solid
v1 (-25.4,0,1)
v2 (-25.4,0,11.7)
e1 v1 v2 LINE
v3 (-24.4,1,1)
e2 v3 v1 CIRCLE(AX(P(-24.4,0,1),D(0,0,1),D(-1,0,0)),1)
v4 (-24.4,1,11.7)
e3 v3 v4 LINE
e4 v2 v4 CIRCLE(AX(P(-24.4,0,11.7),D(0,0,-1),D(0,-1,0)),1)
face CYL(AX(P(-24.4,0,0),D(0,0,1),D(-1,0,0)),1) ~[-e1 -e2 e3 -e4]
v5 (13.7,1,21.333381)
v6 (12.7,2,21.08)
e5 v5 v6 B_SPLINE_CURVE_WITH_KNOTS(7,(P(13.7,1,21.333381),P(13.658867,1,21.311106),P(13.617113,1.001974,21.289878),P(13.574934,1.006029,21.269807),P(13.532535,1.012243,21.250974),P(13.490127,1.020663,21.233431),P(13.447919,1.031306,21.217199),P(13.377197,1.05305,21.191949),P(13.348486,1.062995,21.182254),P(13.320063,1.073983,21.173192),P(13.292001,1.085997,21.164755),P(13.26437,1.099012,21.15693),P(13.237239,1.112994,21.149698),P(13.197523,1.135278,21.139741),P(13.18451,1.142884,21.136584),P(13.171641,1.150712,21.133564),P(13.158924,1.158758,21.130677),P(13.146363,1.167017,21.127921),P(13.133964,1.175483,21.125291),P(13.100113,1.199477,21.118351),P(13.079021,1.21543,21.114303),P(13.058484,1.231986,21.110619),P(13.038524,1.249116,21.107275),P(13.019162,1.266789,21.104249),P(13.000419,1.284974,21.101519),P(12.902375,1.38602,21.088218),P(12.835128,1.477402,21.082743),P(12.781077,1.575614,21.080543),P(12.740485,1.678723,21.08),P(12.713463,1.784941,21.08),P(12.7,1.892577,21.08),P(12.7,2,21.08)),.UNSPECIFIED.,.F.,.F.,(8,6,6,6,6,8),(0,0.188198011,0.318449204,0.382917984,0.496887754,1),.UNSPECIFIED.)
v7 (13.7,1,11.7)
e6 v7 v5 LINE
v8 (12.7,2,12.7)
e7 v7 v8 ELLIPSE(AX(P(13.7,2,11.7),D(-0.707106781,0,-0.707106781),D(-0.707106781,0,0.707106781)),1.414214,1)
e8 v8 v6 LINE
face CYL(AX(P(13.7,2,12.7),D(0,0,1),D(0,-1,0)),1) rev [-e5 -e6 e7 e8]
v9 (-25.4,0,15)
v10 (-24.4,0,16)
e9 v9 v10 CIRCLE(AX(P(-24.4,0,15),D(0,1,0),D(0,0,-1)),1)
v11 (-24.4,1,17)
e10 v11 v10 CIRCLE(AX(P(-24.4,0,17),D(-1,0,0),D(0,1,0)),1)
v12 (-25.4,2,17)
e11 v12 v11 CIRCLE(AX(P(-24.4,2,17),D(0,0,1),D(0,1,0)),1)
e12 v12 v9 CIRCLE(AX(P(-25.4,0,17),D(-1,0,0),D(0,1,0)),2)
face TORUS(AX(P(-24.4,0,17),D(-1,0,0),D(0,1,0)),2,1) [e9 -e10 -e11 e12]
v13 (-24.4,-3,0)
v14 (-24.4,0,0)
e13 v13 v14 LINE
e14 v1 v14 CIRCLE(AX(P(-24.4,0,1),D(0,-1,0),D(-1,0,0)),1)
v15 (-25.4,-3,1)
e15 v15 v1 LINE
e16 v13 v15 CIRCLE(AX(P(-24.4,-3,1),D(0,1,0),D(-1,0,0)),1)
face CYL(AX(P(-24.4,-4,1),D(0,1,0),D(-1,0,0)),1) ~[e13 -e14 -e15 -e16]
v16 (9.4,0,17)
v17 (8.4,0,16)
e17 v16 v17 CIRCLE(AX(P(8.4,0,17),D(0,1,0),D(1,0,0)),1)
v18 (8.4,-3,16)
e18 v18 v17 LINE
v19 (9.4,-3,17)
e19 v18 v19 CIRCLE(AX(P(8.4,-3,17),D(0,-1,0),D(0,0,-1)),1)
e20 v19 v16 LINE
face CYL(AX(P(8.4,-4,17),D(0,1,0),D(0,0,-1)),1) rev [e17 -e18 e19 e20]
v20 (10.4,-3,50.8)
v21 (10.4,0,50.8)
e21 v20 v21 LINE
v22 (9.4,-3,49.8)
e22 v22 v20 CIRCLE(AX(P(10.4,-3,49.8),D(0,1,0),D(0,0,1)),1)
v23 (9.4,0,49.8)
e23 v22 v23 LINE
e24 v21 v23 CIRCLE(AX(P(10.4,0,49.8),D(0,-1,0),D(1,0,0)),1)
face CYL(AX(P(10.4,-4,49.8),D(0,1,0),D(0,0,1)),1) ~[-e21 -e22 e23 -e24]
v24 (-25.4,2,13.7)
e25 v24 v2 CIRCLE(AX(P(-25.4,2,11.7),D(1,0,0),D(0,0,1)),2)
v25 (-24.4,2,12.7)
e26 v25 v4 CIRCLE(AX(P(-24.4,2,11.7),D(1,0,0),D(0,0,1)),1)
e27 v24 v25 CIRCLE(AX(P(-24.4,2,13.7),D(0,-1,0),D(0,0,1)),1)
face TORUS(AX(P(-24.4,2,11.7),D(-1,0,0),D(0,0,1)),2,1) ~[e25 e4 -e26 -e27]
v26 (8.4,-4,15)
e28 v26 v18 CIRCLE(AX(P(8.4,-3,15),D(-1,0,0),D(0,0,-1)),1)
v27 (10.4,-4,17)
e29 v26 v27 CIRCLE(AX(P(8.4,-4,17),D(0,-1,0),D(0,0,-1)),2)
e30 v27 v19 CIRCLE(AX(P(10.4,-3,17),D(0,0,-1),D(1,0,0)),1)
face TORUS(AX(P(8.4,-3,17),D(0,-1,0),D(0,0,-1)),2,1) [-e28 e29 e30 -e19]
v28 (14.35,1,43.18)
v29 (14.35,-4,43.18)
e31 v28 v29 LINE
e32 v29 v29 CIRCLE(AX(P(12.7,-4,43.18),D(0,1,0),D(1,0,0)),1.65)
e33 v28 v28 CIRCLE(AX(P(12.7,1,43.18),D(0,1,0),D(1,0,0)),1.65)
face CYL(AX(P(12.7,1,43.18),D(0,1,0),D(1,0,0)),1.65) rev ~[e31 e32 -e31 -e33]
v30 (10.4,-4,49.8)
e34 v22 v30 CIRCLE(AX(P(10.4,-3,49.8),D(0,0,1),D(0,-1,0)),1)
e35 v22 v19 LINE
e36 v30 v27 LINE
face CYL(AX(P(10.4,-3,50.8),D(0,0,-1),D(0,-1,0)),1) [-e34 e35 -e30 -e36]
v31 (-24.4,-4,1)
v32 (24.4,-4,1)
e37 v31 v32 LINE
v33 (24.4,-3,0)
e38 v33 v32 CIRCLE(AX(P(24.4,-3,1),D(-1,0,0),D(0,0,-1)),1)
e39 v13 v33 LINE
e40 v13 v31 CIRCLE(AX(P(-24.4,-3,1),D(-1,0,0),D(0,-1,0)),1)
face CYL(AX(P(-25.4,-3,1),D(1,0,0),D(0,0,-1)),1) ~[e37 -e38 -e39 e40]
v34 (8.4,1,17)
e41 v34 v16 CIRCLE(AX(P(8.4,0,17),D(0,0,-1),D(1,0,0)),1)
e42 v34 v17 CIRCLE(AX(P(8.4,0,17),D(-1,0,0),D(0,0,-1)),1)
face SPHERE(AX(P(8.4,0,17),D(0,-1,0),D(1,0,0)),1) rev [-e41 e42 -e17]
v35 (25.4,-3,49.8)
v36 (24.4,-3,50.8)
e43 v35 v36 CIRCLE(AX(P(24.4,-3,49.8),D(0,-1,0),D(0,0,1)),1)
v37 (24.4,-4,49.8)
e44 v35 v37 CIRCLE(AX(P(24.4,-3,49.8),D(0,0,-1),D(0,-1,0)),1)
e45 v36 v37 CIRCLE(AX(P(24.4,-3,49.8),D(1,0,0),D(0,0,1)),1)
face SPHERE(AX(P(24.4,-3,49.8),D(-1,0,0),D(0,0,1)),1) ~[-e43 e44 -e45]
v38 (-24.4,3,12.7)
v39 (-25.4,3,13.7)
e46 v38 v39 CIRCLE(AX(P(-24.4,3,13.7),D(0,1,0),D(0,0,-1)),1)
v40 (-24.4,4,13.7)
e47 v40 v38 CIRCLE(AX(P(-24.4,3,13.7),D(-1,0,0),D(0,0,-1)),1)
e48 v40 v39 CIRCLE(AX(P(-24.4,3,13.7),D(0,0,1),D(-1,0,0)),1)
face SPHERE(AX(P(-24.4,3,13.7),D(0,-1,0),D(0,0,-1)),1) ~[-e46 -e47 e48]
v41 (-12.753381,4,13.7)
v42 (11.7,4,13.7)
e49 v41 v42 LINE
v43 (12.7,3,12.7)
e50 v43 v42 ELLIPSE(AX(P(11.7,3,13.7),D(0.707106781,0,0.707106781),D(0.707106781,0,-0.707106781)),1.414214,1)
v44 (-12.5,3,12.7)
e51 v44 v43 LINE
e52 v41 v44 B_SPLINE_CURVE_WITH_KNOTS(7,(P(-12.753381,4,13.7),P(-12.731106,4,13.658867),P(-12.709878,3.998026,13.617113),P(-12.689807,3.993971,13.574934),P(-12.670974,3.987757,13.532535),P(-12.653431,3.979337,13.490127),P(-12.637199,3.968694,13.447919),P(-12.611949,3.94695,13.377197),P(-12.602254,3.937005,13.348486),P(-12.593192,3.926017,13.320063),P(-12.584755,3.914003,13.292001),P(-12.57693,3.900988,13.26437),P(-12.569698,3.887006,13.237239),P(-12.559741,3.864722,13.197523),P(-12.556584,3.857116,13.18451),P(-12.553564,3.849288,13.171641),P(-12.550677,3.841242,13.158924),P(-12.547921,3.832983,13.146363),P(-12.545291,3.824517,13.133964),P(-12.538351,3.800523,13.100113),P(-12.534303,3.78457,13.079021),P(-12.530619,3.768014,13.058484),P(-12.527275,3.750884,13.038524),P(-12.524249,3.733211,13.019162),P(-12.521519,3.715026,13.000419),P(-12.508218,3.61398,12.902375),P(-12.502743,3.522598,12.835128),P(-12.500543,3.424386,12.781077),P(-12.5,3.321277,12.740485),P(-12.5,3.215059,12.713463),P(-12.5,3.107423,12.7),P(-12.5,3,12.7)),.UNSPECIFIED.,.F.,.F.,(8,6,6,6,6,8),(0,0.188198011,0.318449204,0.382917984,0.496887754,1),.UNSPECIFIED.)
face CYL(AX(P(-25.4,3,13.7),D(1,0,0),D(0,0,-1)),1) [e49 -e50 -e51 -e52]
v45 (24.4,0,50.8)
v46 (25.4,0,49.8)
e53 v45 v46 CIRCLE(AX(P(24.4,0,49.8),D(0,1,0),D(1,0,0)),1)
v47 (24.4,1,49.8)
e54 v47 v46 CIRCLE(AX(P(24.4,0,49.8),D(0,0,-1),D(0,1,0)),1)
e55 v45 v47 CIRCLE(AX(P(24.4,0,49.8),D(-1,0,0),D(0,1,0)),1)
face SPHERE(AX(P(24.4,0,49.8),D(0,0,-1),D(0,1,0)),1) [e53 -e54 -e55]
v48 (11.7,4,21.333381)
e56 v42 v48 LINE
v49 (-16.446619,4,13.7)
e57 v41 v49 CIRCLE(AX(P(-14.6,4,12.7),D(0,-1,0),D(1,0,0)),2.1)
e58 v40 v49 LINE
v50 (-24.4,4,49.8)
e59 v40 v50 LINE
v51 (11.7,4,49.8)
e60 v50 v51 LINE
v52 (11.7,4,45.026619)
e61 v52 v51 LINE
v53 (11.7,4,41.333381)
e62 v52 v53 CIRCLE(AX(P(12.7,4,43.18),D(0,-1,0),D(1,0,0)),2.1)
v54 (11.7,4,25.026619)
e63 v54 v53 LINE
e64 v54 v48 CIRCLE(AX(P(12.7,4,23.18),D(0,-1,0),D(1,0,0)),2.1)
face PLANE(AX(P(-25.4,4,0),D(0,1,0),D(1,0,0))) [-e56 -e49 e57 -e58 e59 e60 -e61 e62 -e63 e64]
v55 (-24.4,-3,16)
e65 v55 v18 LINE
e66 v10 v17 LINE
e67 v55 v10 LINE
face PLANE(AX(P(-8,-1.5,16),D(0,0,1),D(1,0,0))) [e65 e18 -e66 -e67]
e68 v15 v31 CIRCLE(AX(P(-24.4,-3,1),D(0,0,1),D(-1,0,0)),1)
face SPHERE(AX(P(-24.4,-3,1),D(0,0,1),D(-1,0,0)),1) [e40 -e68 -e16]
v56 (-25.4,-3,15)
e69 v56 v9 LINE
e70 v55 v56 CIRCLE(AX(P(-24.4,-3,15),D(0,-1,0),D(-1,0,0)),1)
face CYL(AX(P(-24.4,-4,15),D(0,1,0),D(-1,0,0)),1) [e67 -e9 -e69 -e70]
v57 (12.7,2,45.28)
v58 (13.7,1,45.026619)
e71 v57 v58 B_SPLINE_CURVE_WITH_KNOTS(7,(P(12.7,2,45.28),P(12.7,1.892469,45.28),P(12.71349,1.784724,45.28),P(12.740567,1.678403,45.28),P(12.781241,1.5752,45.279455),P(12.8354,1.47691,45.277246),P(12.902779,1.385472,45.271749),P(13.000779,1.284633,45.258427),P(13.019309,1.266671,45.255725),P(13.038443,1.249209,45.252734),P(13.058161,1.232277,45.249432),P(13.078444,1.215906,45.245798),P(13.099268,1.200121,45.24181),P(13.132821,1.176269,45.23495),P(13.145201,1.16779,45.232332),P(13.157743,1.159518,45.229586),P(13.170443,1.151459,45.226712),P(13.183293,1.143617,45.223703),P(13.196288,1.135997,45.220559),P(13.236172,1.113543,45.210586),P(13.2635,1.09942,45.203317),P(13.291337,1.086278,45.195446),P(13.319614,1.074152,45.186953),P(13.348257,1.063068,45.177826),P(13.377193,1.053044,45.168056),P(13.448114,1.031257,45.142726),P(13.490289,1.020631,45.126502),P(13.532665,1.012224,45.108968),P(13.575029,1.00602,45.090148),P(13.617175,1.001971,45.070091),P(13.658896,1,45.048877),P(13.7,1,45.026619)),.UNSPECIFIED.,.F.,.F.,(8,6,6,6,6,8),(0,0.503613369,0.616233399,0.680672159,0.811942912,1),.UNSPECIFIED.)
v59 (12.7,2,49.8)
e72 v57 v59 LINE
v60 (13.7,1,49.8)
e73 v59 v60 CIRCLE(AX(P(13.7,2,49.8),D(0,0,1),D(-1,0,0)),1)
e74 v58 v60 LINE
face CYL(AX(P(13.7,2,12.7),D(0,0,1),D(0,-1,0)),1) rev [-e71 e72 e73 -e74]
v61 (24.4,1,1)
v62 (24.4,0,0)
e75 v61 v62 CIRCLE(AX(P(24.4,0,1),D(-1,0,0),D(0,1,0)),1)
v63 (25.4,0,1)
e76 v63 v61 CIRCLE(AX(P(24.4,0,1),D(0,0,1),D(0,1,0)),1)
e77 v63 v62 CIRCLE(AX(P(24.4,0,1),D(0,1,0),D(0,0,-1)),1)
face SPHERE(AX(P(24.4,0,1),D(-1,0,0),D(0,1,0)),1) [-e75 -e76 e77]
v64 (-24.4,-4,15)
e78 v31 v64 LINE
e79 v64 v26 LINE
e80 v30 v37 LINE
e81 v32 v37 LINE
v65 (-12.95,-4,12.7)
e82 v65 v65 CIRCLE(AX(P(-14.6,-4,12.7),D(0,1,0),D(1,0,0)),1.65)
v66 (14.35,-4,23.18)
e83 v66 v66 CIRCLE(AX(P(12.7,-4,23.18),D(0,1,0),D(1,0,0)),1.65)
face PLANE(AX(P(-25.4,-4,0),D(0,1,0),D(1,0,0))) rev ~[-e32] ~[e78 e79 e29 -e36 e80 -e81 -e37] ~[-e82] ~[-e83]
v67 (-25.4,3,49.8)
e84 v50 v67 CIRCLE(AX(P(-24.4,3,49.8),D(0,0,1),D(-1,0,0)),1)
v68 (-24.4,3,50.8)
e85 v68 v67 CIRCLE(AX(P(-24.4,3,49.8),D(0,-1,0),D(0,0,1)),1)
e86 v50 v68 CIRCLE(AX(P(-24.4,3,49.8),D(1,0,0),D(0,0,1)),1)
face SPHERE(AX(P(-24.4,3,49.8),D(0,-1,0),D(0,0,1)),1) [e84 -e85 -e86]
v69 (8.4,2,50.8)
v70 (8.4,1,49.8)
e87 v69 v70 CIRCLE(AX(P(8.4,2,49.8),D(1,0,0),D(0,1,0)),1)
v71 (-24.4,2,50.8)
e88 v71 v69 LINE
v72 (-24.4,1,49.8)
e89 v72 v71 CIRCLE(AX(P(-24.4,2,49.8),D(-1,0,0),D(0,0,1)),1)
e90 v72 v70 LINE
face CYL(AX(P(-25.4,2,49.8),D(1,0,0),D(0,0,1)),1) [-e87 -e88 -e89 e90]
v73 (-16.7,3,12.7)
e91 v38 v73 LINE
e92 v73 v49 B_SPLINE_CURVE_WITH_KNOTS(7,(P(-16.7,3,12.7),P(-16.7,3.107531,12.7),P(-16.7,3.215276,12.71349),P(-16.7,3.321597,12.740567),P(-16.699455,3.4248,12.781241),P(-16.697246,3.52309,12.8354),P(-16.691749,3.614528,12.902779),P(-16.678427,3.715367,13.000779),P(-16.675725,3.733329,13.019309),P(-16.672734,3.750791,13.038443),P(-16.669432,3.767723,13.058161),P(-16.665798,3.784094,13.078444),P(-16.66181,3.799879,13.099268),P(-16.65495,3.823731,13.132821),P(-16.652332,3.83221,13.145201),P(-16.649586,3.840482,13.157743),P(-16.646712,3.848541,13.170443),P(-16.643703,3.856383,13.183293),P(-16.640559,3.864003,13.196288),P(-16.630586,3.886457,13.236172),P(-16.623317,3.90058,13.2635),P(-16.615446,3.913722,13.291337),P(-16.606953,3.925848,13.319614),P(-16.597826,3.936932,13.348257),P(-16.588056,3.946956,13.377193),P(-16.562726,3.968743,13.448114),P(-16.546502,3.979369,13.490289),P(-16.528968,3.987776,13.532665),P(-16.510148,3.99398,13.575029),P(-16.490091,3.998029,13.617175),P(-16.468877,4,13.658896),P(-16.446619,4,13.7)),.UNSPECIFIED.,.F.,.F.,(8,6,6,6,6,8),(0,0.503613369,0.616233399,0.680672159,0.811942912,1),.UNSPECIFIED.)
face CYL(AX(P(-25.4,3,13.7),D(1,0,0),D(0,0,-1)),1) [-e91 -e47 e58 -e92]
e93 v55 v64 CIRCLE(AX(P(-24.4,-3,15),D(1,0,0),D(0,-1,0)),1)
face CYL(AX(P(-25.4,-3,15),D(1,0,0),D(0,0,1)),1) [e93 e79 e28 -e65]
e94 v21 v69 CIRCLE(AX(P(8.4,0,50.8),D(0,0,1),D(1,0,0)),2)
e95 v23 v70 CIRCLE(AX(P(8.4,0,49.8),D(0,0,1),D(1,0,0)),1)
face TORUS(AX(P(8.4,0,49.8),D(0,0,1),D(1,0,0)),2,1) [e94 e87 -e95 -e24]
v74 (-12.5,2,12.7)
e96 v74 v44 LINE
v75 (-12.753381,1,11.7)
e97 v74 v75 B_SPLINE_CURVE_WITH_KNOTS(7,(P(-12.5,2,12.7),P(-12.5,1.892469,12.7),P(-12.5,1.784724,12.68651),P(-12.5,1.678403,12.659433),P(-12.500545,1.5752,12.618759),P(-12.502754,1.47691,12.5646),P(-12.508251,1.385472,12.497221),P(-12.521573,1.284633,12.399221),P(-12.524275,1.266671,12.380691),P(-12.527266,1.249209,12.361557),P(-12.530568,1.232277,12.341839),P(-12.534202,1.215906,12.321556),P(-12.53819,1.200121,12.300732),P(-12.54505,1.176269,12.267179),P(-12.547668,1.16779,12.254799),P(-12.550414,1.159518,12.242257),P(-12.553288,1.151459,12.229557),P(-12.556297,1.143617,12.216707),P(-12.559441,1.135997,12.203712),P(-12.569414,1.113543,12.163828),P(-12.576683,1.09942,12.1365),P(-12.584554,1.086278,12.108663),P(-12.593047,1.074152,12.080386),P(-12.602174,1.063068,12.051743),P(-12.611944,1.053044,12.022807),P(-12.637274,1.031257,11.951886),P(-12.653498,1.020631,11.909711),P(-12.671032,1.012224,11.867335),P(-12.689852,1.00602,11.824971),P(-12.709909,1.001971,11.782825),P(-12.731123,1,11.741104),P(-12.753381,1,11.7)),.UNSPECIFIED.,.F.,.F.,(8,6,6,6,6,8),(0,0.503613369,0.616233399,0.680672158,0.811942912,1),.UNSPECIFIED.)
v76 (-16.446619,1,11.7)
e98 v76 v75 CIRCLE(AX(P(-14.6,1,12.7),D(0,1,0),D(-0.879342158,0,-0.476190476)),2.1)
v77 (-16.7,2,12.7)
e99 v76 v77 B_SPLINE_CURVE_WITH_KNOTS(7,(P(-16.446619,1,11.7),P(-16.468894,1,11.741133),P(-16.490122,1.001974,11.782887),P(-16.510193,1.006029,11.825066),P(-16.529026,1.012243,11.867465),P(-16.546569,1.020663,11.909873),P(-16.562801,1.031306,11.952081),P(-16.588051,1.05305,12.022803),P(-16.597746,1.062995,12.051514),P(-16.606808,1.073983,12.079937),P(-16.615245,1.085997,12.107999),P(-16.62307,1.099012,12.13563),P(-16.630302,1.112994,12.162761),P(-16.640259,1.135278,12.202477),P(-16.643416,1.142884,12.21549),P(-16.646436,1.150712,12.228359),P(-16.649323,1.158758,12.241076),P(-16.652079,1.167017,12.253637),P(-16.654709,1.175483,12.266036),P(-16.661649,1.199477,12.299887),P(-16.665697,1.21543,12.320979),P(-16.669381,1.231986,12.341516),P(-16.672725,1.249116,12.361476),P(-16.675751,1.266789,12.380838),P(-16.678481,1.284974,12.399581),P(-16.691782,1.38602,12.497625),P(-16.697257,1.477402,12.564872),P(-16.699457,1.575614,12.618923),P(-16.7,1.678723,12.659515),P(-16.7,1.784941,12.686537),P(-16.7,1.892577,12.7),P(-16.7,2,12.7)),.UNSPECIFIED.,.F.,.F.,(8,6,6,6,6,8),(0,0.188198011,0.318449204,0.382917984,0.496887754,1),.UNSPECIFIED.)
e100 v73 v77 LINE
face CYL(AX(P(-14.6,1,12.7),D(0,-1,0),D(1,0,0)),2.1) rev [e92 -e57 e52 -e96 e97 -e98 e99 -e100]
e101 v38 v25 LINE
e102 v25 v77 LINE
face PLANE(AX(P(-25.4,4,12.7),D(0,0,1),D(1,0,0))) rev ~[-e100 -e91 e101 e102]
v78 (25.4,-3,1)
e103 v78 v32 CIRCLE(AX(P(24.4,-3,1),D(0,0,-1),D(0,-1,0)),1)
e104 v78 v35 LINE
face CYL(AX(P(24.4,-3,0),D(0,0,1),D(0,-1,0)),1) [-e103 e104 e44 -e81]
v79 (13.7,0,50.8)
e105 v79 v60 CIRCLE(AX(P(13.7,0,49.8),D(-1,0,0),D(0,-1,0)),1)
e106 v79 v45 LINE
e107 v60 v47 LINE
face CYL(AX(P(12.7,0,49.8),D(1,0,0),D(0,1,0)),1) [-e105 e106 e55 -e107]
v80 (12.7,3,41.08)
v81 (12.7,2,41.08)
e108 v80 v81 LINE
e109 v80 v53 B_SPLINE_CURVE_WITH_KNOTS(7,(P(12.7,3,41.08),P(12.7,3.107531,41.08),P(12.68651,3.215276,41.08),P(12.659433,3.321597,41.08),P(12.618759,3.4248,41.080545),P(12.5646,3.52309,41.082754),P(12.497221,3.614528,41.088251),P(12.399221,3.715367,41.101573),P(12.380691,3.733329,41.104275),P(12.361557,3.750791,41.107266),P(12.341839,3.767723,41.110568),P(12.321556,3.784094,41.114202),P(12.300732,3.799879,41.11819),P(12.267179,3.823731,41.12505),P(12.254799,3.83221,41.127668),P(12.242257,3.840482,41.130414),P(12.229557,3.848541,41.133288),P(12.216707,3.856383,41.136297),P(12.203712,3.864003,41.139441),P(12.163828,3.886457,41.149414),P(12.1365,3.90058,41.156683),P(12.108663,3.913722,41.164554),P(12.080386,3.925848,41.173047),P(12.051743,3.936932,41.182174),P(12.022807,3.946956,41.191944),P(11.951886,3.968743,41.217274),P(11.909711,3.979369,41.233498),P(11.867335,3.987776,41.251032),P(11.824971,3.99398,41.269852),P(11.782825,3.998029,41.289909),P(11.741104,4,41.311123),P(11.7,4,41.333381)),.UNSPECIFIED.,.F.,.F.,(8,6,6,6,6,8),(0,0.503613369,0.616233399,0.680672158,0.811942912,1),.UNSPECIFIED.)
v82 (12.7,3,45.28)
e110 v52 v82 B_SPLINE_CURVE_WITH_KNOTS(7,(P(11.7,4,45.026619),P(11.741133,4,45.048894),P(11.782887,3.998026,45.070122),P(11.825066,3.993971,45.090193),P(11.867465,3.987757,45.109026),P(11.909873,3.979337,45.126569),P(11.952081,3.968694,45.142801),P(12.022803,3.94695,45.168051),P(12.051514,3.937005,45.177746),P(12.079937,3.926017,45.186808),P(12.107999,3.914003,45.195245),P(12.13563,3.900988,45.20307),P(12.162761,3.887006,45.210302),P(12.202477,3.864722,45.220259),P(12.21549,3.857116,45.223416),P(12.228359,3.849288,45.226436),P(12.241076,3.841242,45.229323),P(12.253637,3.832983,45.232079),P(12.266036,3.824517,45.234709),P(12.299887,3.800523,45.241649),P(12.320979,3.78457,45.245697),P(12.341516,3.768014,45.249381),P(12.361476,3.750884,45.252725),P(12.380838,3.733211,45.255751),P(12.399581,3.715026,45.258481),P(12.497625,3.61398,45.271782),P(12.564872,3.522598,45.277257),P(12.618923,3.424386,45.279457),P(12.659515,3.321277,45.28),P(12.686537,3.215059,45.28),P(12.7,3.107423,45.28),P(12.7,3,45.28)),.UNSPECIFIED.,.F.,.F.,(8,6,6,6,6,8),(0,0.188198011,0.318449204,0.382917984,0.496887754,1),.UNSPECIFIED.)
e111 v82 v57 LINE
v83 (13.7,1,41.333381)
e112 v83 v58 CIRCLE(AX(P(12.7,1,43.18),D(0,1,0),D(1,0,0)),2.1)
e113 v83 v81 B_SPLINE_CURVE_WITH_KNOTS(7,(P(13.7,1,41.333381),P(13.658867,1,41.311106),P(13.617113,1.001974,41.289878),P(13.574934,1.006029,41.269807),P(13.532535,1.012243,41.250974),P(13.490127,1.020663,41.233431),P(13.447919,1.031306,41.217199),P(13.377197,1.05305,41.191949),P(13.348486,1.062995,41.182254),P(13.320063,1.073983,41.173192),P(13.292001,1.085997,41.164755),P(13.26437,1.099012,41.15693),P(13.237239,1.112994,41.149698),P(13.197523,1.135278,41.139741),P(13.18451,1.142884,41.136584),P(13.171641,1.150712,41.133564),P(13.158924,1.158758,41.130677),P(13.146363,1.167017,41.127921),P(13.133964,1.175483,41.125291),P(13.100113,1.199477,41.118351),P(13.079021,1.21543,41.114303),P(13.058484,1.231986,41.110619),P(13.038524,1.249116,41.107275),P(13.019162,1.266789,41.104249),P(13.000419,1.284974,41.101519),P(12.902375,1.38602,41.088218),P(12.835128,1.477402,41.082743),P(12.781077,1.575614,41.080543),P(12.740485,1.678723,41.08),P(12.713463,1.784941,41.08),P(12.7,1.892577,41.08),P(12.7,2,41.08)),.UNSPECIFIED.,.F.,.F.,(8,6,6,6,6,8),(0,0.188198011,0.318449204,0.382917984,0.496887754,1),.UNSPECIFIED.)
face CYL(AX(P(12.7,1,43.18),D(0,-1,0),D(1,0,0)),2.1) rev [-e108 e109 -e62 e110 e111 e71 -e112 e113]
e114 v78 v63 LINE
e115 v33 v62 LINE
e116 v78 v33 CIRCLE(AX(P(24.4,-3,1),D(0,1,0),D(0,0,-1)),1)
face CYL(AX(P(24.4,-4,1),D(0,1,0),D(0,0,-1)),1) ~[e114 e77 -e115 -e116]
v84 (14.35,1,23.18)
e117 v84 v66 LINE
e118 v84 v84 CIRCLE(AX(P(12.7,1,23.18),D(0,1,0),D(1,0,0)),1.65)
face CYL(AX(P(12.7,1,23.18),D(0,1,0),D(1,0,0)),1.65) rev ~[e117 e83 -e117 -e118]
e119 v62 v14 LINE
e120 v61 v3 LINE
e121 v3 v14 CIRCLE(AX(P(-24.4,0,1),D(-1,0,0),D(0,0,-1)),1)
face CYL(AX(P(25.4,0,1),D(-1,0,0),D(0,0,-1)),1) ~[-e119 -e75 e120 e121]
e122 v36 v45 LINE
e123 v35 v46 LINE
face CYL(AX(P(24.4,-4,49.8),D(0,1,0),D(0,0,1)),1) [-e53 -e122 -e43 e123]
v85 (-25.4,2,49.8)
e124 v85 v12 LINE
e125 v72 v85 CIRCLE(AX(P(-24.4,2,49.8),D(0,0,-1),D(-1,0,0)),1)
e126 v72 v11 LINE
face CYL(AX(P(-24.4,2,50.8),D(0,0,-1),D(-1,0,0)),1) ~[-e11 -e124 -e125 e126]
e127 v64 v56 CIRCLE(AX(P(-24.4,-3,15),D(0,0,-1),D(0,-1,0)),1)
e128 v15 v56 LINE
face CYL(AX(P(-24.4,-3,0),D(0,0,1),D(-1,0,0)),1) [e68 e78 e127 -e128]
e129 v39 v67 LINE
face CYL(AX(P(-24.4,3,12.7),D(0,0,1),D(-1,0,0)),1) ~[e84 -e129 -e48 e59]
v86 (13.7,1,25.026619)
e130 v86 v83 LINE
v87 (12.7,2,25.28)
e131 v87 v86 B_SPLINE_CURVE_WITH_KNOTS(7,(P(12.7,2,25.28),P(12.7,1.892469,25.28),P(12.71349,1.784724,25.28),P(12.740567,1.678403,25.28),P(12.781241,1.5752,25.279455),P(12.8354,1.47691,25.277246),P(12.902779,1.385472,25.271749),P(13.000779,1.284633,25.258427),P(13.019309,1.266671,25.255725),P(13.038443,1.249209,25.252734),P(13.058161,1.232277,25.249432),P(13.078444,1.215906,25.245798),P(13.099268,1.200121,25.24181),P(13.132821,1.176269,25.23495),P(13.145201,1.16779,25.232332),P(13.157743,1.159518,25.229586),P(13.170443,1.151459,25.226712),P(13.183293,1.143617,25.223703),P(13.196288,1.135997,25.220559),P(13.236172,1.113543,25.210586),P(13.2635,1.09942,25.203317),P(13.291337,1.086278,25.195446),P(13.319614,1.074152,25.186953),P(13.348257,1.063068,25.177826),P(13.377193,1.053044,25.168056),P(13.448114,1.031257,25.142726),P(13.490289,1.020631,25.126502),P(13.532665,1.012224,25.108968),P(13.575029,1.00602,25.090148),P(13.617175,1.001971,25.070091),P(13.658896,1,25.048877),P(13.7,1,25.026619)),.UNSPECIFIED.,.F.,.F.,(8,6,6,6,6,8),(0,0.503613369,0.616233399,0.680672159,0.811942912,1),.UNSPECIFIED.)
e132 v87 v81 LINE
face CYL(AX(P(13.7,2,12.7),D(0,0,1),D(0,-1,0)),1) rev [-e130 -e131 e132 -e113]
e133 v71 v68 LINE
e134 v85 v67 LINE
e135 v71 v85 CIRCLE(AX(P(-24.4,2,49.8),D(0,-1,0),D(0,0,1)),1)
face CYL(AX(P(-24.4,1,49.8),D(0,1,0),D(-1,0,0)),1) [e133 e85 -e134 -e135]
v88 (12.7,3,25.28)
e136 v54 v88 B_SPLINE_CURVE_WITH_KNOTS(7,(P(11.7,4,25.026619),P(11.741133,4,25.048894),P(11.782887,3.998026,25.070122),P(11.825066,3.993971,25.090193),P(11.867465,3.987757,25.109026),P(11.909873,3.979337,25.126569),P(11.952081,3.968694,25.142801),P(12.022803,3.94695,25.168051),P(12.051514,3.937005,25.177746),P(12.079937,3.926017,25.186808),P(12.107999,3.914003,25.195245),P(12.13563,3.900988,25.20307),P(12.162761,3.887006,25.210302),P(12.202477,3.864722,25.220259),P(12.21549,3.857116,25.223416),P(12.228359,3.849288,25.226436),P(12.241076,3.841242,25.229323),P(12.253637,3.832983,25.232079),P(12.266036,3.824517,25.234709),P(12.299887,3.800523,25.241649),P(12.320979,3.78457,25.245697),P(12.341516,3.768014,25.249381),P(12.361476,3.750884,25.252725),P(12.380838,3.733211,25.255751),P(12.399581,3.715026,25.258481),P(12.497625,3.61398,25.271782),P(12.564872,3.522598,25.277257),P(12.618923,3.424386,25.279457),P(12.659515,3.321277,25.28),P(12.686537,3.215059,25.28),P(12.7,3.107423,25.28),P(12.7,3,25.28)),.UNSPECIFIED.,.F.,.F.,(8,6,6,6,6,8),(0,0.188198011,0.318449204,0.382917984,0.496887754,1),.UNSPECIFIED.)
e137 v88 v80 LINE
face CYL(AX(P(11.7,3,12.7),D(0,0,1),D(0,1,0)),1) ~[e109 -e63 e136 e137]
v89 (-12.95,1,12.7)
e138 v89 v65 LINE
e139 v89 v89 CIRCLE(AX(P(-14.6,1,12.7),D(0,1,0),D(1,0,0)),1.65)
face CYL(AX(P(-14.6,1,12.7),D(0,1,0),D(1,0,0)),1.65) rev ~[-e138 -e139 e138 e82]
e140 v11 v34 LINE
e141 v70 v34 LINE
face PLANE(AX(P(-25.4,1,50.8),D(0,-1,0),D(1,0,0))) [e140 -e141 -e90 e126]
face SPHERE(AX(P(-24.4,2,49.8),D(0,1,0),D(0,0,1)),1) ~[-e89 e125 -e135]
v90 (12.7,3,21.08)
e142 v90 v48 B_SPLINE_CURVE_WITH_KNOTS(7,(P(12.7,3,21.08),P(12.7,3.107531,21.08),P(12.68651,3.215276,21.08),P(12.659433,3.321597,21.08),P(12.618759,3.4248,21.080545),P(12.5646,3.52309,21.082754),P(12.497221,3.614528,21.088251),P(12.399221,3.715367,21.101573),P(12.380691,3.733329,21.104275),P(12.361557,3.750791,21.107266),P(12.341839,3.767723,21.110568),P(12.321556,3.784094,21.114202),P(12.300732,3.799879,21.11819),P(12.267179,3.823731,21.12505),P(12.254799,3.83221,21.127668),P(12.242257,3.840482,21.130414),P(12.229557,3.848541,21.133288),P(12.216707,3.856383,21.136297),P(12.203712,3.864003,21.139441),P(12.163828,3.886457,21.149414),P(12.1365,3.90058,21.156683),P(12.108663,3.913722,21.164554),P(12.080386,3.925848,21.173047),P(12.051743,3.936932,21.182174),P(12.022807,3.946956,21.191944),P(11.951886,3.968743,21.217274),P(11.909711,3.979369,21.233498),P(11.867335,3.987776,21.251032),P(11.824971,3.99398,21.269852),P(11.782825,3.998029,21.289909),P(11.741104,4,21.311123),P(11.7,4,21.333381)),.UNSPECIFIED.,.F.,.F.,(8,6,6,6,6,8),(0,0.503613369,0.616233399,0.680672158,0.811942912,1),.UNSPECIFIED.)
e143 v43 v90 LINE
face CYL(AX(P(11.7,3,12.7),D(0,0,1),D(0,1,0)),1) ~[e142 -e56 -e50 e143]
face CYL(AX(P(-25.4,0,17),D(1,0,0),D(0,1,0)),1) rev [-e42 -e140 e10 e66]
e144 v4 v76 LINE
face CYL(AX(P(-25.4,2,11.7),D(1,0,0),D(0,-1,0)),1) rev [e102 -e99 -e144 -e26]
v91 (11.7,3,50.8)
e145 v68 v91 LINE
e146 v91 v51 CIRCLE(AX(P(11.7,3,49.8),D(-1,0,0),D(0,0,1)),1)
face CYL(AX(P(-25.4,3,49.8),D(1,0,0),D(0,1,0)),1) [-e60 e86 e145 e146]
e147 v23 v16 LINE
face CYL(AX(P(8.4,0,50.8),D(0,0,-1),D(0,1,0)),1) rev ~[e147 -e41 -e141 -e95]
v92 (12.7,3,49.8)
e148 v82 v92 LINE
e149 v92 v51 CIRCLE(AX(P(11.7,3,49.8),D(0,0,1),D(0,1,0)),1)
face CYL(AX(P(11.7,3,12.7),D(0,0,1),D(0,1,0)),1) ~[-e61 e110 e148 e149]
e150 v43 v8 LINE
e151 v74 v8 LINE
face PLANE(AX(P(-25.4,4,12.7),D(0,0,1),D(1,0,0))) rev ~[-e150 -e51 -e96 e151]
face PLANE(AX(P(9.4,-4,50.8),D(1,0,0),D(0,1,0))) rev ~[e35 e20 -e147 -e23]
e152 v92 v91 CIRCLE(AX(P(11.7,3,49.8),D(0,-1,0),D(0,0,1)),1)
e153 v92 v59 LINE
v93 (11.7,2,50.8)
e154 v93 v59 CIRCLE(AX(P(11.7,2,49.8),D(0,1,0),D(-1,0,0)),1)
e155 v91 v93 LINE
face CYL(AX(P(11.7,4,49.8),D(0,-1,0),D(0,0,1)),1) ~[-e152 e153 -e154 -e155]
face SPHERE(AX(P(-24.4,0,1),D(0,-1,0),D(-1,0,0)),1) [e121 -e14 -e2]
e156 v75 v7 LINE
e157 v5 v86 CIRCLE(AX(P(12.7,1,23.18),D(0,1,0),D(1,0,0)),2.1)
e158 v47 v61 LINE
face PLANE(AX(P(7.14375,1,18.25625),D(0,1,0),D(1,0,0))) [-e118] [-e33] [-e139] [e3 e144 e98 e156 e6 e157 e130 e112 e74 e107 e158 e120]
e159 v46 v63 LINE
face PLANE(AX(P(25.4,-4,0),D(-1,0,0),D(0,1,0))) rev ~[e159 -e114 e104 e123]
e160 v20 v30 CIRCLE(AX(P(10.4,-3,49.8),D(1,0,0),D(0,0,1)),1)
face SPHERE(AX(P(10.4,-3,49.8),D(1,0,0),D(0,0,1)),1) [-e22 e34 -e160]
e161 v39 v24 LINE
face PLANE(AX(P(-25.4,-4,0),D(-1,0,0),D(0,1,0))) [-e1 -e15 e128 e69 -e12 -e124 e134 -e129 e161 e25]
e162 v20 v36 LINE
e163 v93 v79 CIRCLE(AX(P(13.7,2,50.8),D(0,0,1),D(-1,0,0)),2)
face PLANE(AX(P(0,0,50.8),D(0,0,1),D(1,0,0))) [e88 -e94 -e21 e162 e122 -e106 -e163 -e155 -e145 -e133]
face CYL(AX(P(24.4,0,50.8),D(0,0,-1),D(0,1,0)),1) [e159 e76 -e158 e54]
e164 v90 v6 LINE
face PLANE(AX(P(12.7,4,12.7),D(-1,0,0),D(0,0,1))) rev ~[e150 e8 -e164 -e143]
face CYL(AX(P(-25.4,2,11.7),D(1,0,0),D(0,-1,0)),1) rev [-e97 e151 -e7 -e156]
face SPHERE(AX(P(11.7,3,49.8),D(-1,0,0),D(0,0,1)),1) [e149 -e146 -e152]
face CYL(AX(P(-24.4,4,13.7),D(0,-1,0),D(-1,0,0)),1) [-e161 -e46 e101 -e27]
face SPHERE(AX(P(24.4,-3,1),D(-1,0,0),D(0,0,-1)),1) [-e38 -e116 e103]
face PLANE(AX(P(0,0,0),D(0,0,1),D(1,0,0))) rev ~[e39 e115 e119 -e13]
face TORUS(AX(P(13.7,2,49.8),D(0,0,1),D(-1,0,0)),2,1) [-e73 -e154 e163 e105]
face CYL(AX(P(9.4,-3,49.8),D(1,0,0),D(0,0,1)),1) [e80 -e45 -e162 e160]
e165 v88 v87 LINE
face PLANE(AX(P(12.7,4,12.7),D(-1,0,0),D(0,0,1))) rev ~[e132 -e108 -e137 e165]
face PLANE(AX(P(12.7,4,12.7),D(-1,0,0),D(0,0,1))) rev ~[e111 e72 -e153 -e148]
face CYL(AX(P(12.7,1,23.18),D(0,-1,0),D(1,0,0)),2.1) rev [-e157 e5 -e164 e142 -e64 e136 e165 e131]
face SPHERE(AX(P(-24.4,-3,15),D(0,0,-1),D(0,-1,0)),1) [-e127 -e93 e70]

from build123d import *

# Parameters (mm, degrees)
SKETCH1_W           = 50.8
SKETCH1_H           = 8
BOSS_EXTRUDE1_DEPTH = 50.8
SKETCH2_W           = 34.8
SKETCH2_H           = 5
CUT_EXTRUDE2_DEPTH  = 34.8
CUT_EXTRUDE3_DEPTH  = 3
FILLET1_R           = 1
SKETCH4_R           = 2.1
CUT_EXTRUDE4_DEPTH  = 4
SKETCH5_R           = 1.65
CUT_EXTRUDE5_DEPTH  = 6


with BuildPart() as part:
    # Sketch1 → Boss-Extrude1 (new body)
    with BuildSketch(Plane.XY):
        Rectangle(SKETCH1_W, SKETCH1_H)
    extrude(amount=BOSS_EXTRUDE1_DEPTH)

    # Sketch2 → Cut-Extrude2 (cut)
    with BuildSketch(Plane.XY.offset(50.8)):
        with Locations((-8, -1.5)):
            Rectangle(SKETCH2_W, SKETCH2_H)
    extrude(amount=-CUT_EXTRUDE2_DEPTH, mode=Mode.SUBTRACT)

    # Sketch3 → Cut-Extrude3 (cut)
    with BuildSketch(Plane(origin=(0, 4, 0), x_dir=(1, 0, 0), z_dir=(0, 1, 0))):
        Polygon((-25.4, -12.7), (12.7, -12.7), (12.7, -50.8), (25.4, -50.8), (25.4, 0), (-25.4, 0), align=None)
    extrude(amount=-CUT_EXTRUDE3_DEPTH, mode=Mode.SUBTRACT)

    # Fillet1
    fillet1_edges = [part.edges().sort_by_distance(p)[0] for p in [
        (-25.4, 2.5, 50.8),
        (17.4, -4, 50.8),
        (-25.4, -4, 8),
        (9.4, -1.5, 50.8),
        (-8, 1, 50.8),
        (-8, -4, 16),
        (9.4, -4, 33.4),
        (9.4, -1.5, 16),
        (9.4, 1, 33.4),
        (-8, 1, 16),
        (-25.4, 1, 33.4),
        (-25.4, -1.5, 16),
        (-25.4, -1.5, 0),
        (-6.35, 4, 50.8),
        (-25.4, 2.5, 12.7),
        (12.7, 2.5, 50.8),
        (-6.35, 4, 12.7),
        (12.7, 4, 31.75),
        (-25.4, 1, 6.35),
        (0, 1, 0),
        (25.4, 1, 25.4),
        (19.05, 1, 50.8),
        (12.7, 1, 31.75),
        (-6.35, 1, 12.7),
        (25.4, -1.5, 50.8),
        (0, -4, 0),
        (25.4, -1.5, 0),
        (25.4, -4, 25.4),
        (-25.4, 4, 31.75),
    ]]
    fillet(fillet1_edges, radius=FILLET1_R)

    # Sketch4 → Cut-Extrude4 (cut, through all)
    with BuildSketch(Plane(origin=(0, 1, 0), x_dir=(1, 0, 0), z_dir=(0, 1, 0))):
        with Locations((-14.6, -12.7)):
            Circle(SKETCH4_R)
        with Locations((12.7, -43.18)):
            Circle(SKETCH4_R)
        with Locations((12.7, -23.18)):
            Circle(SKETCH4_R)
    extrude(amount=CUT_EXTRUDE4_DEPTH, mode=Mode.SUBTRACT)

    # Sketch5 → Cut-Extrude5 (cut, through all)
    with BuildSketch(Plane(origin=(0, 1, 0), x_dir=(1, 0, 0), z_dir=(0, 1, 0))):
        with Locations((-14.6, -12.7)):
            Circle(SKETCH5_R)
        with Locations((12.7, -23.18)):
            Circle(SKETCH5_R)
        with Locations((12.7, -43.18)):
            Circle(SKETCH5_R)
    extrude(amount=-CUT_EXTRUDE5_DEPTH, mode=Mode.SUBTRACT)


solid = part.part
